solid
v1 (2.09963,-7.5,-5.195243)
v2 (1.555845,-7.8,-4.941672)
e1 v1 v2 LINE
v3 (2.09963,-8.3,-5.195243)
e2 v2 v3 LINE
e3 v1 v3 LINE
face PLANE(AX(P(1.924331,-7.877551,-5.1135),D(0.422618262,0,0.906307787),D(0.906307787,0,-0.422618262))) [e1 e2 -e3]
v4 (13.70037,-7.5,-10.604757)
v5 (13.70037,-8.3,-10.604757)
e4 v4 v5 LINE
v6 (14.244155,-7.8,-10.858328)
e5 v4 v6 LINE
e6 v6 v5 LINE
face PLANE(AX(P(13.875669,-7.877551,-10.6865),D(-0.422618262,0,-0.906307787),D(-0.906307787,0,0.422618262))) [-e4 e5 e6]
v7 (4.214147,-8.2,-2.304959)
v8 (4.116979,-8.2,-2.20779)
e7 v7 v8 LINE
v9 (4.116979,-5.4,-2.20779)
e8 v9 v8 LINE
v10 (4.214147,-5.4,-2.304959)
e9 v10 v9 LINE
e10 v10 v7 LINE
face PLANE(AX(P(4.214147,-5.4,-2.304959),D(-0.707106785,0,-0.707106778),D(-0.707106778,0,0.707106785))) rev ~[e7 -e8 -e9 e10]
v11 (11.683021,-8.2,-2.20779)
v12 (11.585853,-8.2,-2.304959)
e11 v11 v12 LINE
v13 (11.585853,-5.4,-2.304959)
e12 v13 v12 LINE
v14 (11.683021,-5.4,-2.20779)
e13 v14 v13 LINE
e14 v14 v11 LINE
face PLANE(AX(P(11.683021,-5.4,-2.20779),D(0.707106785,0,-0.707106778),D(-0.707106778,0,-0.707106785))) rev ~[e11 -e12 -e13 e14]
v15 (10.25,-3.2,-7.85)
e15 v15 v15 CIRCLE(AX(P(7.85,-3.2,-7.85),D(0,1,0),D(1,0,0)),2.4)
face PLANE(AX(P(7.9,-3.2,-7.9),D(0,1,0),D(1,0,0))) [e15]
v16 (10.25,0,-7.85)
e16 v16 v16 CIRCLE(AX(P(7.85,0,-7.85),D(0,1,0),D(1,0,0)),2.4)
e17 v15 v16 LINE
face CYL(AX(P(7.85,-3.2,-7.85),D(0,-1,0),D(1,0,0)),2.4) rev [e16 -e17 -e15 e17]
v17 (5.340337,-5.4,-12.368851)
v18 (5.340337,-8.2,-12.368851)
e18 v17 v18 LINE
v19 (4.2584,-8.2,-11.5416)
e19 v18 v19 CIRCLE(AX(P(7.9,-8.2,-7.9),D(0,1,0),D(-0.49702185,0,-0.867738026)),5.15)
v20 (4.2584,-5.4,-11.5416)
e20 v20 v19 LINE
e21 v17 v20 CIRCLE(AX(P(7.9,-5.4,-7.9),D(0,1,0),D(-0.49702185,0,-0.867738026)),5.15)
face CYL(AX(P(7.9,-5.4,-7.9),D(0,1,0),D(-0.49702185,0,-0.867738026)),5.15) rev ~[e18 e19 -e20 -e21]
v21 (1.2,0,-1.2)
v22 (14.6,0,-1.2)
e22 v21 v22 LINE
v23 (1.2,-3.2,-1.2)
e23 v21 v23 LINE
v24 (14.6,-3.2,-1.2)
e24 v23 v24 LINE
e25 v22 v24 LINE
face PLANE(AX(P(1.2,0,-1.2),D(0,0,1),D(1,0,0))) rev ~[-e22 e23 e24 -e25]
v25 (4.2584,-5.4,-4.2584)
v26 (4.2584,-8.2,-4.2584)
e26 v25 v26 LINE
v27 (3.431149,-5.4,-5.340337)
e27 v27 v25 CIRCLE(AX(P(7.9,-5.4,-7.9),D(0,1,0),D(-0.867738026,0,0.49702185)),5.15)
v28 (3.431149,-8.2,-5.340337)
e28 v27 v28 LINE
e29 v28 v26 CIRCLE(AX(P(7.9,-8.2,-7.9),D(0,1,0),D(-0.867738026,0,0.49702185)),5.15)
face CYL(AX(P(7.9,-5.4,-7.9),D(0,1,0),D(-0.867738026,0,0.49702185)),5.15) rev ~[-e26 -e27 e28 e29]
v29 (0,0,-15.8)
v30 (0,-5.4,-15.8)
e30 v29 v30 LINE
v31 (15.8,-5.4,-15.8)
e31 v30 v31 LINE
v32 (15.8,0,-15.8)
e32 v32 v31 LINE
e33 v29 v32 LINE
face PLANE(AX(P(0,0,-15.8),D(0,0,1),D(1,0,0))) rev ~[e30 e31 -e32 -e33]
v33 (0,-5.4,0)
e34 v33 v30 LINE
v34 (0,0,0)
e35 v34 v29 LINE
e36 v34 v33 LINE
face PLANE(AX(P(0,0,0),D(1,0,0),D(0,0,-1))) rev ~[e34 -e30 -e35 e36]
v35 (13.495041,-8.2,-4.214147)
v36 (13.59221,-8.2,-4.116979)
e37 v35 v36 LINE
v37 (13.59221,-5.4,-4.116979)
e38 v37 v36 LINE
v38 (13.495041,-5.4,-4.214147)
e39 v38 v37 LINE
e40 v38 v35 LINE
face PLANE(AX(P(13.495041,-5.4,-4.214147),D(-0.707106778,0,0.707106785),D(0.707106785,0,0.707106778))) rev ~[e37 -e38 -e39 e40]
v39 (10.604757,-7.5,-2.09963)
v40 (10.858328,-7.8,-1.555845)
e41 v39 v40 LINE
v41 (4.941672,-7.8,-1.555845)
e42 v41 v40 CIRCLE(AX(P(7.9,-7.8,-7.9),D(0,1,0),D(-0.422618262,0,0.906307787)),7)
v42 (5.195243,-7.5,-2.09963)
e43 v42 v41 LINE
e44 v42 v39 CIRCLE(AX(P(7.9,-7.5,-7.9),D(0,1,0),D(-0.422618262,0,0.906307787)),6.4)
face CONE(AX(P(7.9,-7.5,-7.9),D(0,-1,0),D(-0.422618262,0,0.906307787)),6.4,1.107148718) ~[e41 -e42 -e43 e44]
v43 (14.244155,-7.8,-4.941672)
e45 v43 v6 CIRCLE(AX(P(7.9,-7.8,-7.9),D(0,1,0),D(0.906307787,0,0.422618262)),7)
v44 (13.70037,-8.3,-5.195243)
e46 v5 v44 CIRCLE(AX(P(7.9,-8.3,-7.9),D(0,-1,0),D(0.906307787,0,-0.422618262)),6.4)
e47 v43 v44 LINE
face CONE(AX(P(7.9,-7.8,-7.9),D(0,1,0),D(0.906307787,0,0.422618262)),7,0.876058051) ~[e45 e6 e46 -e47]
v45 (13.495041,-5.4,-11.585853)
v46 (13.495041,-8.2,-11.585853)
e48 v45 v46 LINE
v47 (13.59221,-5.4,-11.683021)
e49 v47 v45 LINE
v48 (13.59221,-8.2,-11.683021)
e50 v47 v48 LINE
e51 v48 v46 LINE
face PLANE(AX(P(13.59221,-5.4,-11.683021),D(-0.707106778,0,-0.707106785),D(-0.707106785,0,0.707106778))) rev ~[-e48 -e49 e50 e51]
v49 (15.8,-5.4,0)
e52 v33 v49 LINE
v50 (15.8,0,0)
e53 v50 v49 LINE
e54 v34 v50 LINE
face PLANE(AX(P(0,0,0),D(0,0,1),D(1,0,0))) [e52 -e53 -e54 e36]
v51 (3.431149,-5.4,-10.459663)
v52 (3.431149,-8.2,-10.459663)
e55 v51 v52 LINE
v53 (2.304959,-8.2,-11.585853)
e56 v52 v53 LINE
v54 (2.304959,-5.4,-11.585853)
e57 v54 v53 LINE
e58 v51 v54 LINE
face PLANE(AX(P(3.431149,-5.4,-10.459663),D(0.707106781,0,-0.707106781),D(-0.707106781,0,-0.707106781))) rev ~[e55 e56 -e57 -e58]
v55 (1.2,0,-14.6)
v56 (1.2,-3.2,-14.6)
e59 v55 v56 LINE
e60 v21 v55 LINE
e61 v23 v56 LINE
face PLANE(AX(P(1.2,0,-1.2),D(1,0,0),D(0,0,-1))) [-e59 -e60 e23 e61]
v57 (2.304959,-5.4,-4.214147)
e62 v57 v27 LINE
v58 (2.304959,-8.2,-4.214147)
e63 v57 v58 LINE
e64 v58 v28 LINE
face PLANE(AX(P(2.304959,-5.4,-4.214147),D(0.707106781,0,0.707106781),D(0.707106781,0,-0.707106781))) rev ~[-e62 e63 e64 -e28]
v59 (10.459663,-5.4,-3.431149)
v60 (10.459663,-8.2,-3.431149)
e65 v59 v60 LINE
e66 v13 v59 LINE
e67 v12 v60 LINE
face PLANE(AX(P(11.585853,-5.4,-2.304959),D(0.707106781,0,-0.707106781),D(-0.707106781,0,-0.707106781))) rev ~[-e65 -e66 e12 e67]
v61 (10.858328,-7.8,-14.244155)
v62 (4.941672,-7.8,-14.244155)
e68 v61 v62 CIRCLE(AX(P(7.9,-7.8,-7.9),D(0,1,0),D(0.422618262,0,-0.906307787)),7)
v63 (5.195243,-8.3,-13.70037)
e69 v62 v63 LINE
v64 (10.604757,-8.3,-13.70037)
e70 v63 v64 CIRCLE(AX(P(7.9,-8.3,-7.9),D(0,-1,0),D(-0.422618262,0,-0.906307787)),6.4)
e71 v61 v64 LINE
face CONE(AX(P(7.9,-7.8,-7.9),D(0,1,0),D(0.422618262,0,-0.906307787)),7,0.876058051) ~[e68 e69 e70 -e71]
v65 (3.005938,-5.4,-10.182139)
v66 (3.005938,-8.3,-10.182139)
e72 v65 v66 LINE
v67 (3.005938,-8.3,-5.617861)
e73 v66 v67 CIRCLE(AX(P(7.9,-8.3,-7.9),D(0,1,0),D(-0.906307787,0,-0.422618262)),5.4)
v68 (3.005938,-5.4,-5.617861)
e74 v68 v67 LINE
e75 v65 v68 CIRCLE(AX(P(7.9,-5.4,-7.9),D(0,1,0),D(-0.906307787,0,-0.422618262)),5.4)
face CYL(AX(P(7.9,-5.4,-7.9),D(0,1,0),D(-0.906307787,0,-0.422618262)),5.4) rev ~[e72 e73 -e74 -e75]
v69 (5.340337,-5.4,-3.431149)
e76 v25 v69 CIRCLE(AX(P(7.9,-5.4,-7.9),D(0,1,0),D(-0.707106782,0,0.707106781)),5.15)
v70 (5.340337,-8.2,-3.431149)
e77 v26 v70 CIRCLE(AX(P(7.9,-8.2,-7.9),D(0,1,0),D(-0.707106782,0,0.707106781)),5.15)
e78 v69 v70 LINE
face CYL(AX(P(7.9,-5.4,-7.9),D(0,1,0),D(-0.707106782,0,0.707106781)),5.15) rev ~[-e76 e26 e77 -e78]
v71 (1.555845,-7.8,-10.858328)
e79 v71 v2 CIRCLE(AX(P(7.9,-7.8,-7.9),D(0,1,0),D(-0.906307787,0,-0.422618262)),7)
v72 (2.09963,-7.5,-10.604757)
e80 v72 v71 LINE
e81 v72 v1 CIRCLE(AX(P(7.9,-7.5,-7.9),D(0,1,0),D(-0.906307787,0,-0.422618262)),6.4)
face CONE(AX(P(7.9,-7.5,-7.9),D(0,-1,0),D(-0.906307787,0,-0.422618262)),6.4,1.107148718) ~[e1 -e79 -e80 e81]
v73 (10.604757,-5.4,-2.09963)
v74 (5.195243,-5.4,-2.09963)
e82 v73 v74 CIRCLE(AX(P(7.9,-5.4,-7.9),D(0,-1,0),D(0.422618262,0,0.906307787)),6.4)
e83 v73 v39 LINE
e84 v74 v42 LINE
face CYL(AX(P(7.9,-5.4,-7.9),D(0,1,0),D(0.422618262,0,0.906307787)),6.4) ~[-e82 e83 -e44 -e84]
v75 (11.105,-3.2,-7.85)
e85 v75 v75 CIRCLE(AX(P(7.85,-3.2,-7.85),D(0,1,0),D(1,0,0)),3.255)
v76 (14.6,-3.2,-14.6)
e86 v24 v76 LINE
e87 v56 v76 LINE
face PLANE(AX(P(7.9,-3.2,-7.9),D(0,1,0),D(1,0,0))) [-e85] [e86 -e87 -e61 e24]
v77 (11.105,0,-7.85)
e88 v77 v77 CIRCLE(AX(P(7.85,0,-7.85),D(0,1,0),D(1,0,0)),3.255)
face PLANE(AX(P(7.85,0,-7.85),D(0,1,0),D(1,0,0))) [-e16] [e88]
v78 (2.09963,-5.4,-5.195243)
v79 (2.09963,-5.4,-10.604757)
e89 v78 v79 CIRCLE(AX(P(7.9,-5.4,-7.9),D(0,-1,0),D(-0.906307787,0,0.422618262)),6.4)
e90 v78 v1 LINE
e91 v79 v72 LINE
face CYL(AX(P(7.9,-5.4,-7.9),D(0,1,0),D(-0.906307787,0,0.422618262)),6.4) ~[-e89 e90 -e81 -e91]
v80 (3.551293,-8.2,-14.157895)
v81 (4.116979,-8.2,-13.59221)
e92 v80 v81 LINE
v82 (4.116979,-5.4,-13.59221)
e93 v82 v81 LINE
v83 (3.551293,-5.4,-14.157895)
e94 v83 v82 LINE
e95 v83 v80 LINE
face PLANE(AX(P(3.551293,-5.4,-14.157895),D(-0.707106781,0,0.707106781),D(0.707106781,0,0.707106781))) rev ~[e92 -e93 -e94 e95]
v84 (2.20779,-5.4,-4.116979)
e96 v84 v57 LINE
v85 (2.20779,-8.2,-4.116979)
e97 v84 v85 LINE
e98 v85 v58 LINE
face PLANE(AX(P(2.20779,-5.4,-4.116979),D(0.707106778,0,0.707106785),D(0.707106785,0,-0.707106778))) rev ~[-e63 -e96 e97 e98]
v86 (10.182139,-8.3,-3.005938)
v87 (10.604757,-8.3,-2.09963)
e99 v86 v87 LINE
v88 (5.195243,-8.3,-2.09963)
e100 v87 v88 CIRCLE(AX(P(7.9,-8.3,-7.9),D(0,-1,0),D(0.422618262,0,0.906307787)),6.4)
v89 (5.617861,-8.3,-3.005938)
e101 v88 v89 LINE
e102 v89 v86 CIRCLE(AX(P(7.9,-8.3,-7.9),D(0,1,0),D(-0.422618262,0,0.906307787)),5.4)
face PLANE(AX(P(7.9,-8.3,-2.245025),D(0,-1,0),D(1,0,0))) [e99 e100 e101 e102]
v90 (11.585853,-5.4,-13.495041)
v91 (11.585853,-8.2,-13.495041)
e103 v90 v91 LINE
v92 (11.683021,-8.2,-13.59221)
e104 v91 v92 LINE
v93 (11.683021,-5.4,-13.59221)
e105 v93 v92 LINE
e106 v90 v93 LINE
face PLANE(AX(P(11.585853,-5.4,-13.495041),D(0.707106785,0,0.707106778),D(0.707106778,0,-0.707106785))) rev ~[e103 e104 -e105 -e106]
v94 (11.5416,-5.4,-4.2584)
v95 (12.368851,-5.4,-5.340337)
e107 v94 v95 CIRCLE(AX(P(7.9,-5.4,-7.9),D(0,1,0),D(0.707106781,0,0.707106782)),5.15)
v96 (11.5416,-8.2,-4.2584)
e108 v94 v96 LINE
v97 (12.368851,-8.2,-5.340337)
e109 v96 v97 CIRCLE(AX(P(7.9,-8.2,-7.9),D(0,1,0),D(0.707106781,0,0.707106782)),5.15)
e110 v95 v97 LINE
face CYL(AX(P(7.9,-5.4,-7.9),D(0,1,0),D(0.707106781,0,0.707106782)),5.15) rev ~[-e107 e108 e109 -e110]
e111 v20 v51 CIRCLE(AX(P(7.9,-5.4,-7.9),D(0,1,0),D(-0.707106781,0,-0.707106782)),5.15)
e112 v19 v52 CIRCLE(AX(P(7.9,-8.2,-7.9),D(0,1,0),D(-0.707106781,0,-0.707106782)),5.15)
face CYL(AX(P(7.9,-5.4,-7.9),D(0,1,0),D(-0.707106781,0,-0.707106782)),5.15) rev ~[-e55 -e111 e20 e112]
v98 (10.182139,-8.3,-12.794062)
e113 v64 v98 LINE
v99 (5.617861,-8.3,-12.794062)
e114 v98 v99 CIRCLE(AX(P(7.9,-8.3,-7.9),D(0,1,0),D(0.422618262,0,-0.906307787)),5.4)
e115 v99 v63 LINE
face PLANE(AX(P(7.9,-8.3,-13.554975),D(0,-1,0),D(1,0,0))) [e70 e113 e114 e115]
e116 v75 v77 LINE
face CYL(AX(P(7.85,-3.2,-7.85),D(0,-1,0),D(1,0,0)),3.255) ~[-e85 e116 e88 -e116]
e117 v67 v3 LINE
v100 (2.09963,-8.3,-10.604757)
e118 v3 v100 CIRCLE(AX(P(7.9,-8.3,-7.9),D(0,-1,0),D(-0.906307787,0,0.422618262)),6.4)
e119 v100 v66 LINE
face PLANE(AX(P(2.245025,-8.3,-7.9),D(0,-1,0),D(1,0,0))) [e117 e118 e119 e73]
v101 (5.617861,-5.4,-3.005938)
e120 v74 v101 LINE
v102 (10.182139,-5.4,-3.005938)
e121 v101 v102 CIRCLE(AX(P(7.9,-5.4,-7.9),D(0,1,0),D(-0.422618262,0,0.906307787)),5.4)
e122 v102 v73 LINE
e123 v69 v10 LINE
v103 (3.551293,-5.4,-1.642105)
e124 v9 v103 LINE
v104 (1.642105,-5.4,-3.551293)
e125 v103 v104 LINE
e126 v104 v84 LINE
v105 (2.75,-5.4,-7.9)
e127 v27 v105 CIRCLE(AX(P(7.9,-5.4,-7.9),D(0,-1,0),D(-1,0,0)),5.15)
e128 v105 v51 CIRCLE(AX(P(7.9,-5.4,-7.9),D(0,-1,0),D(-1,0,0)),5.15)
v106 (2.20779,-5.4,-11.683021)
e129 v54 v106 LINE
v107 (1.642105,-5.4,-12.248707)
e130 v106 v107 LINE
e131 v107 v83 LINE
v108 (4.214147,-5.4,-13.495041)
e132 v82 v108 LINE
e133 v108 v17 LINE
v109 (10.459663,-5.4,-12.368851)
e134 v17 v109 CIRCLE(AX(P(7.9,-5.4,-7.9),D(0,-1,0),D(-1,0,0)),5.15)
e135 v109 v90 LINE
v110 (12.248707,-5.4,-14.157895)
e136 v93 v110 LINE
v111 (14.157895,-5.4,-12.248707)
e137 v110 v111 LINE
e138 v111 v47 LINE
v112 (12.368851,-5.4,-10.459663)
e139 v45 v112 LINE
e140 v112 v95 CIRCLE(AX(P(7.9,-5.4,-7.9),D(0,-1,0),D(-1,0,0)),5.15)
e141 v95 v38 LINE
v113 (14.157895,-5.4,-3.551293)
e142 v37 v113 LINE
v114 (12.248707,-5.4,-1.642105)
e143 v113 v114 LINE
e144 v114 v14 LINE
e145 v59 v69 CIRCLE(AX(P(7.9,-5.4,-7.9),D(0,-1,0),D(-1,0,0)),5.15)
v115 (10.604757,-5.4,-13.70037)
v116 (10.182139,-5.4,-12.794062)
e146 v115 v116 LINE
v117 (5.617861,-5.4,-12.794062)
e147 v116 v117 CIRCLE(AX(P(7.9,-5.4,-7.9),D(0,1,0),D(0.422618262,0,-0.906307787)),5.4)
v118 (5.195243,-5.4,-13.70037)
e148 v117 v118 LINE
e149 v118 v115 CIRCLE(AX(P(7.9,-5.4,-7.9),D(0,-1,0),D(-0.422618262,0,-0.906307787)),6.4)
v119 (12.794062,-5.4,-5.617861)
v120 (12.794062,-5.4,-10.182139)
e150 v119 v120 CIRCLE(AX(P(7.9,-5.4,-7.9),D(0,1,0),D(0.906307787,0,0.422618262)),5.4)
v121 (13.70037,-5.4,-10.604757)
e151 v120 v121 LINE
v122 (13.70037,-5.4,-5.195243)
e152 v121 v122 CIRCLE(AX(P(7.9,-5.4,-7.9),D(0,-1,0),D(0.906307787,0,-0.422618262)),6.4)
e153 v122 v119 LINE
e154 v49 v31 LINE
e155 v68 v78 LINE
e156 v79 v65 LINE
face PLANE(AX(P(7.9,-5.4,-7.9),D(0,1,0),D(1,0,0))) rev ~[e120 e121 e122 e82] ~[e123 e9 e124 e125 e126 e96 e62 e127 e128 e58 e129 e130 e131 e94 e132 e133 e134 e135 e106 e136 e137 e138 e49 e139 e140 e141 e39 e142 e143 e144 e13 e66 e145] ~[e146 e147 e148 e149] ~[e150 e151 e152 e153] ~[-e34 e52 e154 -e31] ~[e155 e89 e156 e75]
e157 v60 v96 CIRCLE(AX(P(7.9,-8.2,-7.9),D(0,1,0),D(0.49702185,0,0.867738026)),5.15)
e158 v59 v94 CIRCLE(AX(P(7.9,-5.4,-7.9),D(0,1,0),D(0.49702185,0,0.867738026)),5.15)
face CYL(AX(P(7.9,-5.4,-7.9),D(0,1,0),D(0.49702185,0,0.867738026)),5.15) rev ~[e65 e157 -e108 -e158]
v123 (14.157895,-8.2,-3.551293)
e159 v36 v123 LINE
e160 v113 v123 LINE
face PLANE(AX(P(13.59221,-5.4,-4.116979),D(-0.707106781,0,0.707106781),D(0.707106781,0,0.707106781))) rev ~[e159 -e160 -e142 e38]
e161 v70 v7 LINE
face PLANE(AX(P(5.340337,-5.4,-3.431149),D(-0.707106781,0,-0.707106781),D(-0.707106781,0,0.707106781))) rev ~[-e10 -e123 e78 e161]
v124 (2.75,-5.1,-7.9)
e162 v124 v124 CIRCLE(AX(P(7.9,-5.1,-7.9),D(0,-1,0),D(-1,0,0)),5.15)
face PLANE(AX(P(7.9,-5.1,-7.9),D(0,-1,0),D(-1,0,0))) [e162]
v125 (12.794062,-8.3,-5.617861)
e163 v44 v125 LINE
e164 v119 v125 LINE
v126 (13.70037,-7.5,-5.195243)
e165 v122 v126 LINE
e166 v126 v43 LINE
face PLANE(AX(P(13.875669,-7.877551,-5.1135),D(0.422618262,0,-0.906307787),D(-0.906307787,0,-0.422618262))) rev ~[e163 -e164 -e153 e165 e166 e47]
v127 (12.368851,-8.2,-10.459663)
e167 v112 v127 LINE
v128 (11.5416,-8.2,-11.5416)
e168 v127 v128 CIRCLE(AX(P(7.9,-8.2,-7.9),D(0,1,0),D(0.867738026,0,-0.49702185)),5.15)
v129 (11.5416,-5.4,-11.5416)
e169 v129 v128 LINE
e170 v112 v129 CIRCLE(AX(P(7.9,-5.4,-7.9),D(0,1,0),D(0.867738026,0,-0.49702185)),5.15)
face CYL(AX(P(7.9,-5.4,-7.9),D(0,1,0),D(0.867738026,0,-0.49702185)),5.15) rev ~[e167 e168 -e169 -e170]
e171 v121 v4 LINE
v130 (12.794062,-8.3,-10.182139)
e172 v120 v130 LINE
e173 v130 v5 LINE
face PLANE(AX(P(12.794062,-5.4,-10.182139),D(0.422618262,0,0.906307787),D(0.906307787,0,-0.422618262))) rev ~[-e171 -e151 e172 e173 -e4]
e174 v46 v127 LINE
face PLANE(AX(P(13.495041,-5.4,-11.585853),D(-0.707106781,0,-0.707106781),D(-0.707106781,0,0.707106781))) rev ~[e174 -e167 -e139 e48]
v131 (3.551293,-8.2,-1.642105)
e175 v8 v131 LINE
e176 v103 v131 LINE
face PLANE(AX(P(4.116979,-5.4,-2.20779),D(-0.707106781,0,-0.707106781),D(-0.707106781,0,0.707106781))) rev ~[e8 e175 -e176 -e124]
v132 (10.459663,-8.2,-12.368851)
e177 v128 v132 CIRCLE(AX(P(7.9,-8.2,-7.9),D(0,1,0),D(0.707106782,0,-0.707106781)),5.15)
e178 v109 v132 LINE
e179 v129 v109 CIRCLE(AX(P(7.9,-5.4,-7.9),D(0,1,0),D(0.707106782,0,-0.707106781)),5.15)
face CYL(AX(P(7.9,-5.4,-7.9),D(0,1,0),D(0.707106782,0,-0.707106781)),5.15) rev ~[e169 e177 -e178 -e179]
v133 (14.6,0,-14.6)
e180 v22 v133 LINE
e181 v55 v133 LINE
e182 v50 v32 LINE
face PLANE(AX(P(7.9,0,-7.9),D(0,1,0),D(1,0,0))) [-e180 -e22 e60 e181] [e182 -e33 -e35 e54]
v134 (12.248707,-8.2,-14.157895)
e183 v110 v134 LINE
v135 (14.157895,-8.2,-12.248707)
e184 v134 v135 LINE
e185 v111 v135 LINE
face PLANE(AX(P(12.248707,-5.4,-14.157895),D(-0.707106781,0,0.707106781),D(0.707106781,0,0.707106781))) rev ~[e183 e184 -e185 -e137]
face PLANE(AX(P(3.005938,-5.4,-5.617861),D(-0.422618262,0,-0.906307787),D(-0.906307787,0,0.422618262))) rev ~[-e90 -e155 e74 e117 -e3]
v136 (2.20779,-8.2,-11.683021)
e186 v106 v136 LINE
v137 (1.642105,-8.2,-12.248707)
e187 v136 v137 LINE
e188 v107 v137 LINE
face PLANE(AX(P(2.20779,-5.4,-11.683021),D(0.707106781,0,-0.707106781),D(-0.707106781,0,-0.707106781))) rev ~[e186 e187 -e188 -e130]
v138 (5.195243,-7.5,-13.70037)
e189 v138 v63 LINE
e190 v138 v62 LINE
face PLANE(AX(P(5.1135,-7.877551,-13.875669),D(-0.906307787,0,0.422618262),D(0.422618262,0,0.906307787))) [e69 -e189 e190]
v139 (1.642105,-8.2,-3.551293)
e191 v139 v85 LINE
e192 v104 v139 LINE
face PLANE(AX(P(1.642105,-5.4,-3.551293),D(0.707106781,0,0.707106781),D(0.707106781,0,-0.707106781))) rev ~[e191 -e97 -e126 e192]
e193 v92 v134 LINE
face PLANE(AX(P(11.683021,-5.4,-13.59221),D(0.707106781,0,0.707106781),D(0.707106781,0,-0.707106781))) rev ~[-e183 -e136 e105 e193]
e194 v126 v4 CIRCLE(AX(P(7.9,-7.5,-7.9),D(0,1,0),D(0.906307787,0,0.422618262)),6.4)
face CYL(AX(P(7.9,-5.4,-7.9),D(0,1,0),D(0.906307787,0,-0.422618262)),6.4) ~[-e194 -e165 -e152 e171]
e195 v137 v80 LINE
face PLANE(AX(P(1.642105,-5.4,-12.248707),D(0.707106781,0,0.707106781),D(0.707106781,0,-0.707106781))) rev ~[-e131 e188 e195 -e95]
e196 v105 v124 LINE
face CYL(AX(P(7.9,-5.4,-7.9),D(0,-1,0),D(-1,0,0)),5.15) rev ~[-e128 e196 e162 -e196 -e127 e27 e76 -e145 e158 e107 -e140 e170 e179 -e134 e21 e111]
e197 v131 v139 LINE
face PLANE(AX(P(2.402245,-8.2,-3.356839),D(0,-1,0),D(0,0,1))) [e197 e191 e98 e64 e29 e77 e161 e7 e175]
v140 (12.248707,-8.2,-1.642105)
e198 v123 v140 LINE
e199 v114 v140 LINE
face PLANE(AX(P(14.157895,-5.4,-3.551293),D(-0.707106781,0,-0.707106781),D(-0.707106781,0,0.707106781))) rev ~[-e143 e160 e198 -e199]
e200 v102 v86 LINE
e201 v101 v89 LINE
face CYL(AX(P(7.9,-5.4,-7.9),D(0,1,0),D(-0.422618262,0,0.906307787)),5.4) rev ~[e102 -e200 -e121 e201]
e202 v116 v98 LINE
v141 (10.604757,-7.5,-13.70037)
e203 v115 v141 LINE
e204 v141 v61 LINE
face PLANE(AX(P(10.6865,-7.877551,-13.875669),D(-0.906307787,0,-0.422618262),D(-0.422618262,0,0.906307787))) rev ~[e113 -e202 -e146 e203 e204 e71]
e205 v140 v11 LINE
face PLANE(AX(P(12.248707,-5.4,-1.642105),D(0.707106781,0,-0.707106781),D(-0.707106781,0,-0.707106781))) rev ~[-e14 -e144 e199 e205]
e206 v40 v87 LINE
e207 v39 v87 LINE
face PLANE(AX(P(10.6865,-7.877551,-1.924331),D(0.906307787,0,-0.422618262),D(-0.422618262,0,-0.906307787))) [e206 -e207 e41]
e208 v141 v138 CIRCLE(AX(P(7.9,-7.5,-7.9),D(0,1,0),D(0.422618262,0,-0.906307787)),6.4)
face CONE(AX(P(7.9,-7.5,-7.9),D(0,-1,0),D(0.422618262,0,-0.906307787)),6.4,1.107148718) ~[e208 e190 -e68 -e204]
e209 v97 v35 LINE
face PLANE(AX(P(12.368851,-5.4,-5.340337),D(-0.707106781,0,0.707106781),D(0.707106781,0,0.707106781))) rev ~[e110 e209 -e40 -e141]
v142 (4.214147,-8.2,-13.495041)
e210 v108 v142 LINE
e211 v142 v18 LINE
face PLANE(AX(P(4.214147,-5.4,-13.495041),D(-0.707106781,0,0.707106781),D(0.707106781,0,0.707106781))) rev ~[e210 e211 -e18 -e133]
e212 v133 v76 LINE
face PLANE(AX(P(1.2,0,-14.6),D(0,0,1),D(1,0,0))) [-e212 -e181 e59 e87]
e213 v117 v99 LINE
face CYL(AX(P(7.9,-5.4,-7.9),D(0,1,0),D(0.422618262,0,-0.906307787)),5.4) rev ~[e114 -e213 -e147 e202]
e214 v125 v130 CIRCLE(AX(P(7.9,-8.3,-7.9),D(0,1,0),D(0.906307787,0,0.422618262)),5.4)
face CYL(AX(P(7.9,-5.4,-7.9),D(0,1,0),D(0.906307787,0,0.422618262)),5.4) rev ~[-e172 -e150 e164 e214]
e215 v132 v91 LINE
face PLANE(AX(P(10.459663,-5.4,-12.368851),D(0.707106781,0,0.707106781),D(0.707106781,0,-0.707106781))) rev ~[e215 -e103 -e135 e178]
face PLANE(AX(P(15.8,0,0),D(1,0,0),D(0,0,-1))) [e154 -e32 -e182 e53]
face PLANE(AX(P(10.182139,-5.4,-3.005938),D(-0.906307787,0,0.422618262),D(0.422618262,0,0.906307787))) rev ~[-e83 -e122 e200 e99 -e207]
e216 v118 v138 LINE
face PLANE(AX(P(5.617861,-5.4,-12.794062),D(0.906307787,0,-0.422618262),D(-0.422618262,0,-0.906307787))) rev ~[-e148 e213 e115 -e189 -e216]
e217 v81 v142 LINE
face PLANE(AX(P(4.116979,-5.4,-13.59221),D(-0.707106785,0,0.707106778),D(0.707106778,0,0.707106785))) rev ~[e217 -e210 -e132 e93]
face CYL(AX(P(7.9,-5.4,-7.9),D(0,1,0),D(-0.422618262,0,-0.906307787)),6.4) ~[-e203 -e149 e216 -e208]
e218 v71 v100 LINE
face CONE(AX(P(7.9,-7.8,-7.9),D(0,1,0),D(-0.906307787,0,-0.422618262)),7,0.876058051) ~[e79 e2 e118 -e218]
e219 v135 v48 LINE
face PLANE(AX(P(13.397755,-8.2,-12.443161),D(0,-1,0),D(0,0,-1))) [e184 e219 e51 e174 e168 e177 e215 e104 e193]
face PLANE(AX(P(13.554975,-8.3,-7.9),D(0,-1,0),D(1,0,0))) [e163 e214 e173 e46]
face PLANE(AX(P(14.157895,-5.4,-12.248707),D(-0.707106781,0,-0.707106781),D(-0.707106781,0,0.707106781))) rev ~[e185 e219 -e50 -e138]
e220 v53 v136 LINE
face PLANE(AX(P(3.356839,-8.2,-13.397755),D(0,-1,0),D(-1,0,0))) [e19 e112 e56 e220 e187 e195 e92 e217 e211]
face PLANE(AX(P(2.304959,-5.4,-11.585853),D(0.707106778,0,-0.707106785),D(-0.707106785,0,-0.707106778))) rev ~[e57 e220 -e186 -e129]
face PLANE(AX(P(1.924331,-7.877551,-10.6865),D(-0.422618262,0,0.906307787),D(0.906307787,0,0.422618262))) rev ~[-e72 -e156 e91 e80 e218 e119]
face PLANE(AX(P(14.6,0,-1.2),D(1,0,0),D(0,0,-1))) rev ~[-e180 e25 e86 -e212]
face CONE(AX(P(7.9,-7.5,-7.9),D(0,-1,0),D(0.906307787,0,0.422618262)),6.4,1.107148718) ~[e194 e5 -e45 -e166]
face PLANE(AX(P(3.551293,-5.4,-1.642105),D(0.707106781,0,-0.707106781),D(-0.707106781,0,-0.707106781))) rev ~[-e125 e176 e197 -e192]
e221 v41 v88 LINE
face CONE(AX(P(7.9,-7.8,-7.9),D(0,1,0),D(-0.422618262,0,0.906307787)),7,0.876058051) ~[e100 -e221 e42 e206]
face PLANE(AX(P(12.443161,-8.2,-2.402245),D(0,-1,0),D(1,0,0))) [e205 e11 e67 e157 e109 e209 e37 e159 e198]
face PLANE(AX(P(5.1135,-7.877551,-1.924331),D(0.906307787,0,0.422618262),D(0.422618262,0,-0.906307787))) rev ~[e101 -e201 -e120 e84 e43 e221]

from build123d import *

# Parameters (mm, degrees)
SKETCH2_W           = 15.8
SKETCH2_H           = 15.8
BOSS_EXTRUDE2_DEPTH = 5.4
SKETCH4_W           = 13.4
SKETCH4_H           = 13.4
CUT_EXTRUDE1_DEPTH  = 3.2
SKETCH7_R           = 3.255
SKETCH7_R_2         = 2.4
BOSS_EXTRUDE5_DEPTH = 3.2
SKETCH8_R           = 5.15
CUT_EXTRUDE2_DEPTH  = 0.3
BOSS_EXTRUDE8_DEPTH = 2.8
CIRPATTERN1_COUNT   = 4
BOSS_EXTRUDE9_DEPTH = 2.9
REVOLVE4_ANGLE      = 50
CIRPATTERN9_COUNT   = 4


with BuildPart() as part:
    # Sketch2 → Boss-Extrude2 (new body)
    with BuildSketch(Plane(origin=(0, 0, 0), x_dir=(1, 0, 0), z_dir=(0, 1, 0))):
        with Locations((7.9, 7.9)):
            Rectangle(SKETCH2_W, SKETCH2_H)
    extrude(amount=-BOSS_EXTRUDE2_DEPTH)

    # Sketch4 → Cut-Extrude1 (cut)
    with BuildSketch(Plane(origin=(0, 0, 0), x_dir=(1, 0, 0), z_dir=(0, 1, 0))):
        with Locations((7.9, 7.9)):
            Rectangle(SKETCH4_W, SKETCH4_H)
    extrude(amount=-CUT_EXTRUDE1_DEPTH, mode=Mode.SUBTRACT)

    # Sketch7 → Boss-Extrude5 (add)
    with BuildSketch(Plane(origin=(0, -3.2, 0), x_dir=(1, 0, 0), z_dir=(0, 1, 0))):
        with Locations((7.85, 7.85)):
            Circle(SKETCH7_R)
        with Locations((7.85, 7.85)):
            Circle(SKETCH7_R_2, mode=Mode.SUBTRACT)
    extrude(amount=BOSS_EXTRUDE5_DEPTH)

    # Sketch8 → Cut-Extrude2 (cut)
    with BuildSketch(Plane(origin=(0, -5.4, 0), x_dir=(-1, 0, 0), z_dir=(0, -1, 0))):
        with Locations((-7.9, 7.9)):
            Circle(SKETCH8_R)
    extrude(amount=-CUT_EXTRUDE2_DEPTH, mode=Mode.SUBTRACT)

    # Sketch11 → Boss-Extrude8 (add)
    with BuildSketch(Plane.XZ.offset(5.4)):
        Polygon((11.683021279, -2.207790411), (12.637615434, -3.162384566), (13.203300859, -2.596699141), (12.248706704, -1.642104986), align=None)
        with BuildLine():
            ThreePointArc((11.585853022, -2.304958669), (12.133497372, -2.706975833), (12.637615434, -3.162384566))
            Line((12.637615434, -3.162384566), (11.683021279, -2.207790411))
            Line((11.683021279, -2.207790411), (11.585853022, -2.304958669))
        make_face()
        with BuildLine():
            ThreePointArc((10.459662524, -3.431149167), (11.028098464, -3.808851017), (11.541599923, -4.258400077))
            Line((11.541599923, -4.258400077), (12.637615434, -3.162384566))
            ThreePointArc((12.637615434, -3.162384566), (12.133497372, -2.706975833), (11.585853022, -2.304958669))
            Line((11.585853022, -2.304958669), (10.459662524, -3.431149167))
        make_face()
        with BuildLine():
            Line((12.637615434, -3.162384566), (11.541599923, -4.258400077))
            ThreePointArc((11.541599923, -4.258400077), (11.991148983, -4.771901536), (12.368850833, -5.340337476))
            Line((12.368850833, -5.340337476), (13.495041331, -4.214146978))
            ThreePointArc((13.495041331, -4.214146978), (13.093024167, -3.666502628), (12.637615434, -3.162384566))
        make_face()
        with BuildLine():
            Line((13.592209589, -4.116978721), (12.637615434, -3.162384566))
            ThreePointArc((12.637615434, -3.162384566), (13.093024167, -3.666502628), (13.495041331, -4.214146978))
            Line((13.495041331, -4.214146978), (13.592209589, -4.116978721))
        make_face()
        Polygon((13.203300859, -2.596699141), (12.637615434, -3.162384566), (13.592209589, -4.116978721), (14.157895014, -3.551293296), align=None)
    boss_extrude8 = extrude(amount=BOSS_EXTRUDE8_DEPTH)

    # CirPattern1: Boss-Extrude8 ×4 about axis
    cirpattern1_axis = Axis((7.9, 0, -7.9), (0, 1, 0))
    for i in range(1, CIRPATTERN1_COUNT):
        add(boss_extrude8.rotate(cirpattern1_axis, i * 360 / CIRPATTERN1_COUNT))

    # Sketch12 → Boss-Extrude9 (add)
    with BuildSketch(Plane.XZ.offset(5.4)):
        with BuildLine():
            Line((13.700369837, -5.195243125), (12.79406205, -5.617861387))
            ThreePointArc((12.79406205, -5.617861387), (13.3, -7.9), (12.79406205, -10.182138613))
            Line((12.79406205, -10.182138613), (13.700369837, -10.604756875))
            ThreePointArc((13.700369837, -10.604756875), (14.3, -7.9), (13.700369837, -5.195243125))
        make_face()
        with BuildLine():
            Line((10.604756875, -13.700369837), (10.182138613, -12.79406205))
            ThreePointArc((10.182138613, -12.79406205), (7.9, -13.3), (5.617861387, -12.79406205))
            Line((5.617861387, -12.79406205), (5.195243125, -13.700369837))
            ThreePointArc((5.195243125, -13.700369837), (7.9, -14.3), (10.604756875, -13.700369837))
        make_face()
        with BuildLine():
            Line((2.099630163, -10.604756875), (3.00593795, -10.182138613))
            ThreePointArc((3.00593795, -10.182138613), (2.5, -7.9), (3.00593795, -5.617861387))
            Line((3.00593795, -5.617861387), (2.099630163, -5.195243125))
            ThreePointArc((2.099630163, -5.195243125), (1.5, -7.9), (2.099630163, -10.604756875))
        make_face()
        with BuildLine():
            Line((5.195243125, -2.099630163), (5.617861387, -3.00593795))
            ThreePointArc((5.617861387, -3.00593795), (7.9, -2.5), (10.182138613, -3.00593795))
            Line((10.182138613, -3.00593795), (10.604756875, -2.099630163))
            ThreePointArc((10.604756875, -2.099630163), (7.9, -1.5), (5.195243125, -2.099630163))
        make_face()
    extrude(amount=BOSS_EXTRUDE9_DEPTH)

    # Sketch26 → Revolve4 (revolve)
    with BuildSketch(Plane(origin=(4.436864492, 0, -9.514886609), x_dir=(0.906307787, 0, 0.422618262), z_dir=(-0.422618262, 0, 0.906307787))):
        Polygon((10.22114725, -7.5), (10.82114725, -7.8), (10.22114725, -8.3), align=None)
    revolve4 = revolve(axis=Axis((7.9, -5.1, -7.9), (0, 1, 0)), revolution_arc=REVOLVE4_ANGLE)

    # CirPattern9: Revolve4 ×4 about axis
    cirpattern9_axis = Axis((7.9, -5.1, -7.9), (0, -1, 0))
    for i in range(1, CIRPATTERN9_COUNT):
        add(revolve4.rotate(cirpattern9_axis, i * 360 / CIRPATTERN9_COUNT))


solid = part.part
